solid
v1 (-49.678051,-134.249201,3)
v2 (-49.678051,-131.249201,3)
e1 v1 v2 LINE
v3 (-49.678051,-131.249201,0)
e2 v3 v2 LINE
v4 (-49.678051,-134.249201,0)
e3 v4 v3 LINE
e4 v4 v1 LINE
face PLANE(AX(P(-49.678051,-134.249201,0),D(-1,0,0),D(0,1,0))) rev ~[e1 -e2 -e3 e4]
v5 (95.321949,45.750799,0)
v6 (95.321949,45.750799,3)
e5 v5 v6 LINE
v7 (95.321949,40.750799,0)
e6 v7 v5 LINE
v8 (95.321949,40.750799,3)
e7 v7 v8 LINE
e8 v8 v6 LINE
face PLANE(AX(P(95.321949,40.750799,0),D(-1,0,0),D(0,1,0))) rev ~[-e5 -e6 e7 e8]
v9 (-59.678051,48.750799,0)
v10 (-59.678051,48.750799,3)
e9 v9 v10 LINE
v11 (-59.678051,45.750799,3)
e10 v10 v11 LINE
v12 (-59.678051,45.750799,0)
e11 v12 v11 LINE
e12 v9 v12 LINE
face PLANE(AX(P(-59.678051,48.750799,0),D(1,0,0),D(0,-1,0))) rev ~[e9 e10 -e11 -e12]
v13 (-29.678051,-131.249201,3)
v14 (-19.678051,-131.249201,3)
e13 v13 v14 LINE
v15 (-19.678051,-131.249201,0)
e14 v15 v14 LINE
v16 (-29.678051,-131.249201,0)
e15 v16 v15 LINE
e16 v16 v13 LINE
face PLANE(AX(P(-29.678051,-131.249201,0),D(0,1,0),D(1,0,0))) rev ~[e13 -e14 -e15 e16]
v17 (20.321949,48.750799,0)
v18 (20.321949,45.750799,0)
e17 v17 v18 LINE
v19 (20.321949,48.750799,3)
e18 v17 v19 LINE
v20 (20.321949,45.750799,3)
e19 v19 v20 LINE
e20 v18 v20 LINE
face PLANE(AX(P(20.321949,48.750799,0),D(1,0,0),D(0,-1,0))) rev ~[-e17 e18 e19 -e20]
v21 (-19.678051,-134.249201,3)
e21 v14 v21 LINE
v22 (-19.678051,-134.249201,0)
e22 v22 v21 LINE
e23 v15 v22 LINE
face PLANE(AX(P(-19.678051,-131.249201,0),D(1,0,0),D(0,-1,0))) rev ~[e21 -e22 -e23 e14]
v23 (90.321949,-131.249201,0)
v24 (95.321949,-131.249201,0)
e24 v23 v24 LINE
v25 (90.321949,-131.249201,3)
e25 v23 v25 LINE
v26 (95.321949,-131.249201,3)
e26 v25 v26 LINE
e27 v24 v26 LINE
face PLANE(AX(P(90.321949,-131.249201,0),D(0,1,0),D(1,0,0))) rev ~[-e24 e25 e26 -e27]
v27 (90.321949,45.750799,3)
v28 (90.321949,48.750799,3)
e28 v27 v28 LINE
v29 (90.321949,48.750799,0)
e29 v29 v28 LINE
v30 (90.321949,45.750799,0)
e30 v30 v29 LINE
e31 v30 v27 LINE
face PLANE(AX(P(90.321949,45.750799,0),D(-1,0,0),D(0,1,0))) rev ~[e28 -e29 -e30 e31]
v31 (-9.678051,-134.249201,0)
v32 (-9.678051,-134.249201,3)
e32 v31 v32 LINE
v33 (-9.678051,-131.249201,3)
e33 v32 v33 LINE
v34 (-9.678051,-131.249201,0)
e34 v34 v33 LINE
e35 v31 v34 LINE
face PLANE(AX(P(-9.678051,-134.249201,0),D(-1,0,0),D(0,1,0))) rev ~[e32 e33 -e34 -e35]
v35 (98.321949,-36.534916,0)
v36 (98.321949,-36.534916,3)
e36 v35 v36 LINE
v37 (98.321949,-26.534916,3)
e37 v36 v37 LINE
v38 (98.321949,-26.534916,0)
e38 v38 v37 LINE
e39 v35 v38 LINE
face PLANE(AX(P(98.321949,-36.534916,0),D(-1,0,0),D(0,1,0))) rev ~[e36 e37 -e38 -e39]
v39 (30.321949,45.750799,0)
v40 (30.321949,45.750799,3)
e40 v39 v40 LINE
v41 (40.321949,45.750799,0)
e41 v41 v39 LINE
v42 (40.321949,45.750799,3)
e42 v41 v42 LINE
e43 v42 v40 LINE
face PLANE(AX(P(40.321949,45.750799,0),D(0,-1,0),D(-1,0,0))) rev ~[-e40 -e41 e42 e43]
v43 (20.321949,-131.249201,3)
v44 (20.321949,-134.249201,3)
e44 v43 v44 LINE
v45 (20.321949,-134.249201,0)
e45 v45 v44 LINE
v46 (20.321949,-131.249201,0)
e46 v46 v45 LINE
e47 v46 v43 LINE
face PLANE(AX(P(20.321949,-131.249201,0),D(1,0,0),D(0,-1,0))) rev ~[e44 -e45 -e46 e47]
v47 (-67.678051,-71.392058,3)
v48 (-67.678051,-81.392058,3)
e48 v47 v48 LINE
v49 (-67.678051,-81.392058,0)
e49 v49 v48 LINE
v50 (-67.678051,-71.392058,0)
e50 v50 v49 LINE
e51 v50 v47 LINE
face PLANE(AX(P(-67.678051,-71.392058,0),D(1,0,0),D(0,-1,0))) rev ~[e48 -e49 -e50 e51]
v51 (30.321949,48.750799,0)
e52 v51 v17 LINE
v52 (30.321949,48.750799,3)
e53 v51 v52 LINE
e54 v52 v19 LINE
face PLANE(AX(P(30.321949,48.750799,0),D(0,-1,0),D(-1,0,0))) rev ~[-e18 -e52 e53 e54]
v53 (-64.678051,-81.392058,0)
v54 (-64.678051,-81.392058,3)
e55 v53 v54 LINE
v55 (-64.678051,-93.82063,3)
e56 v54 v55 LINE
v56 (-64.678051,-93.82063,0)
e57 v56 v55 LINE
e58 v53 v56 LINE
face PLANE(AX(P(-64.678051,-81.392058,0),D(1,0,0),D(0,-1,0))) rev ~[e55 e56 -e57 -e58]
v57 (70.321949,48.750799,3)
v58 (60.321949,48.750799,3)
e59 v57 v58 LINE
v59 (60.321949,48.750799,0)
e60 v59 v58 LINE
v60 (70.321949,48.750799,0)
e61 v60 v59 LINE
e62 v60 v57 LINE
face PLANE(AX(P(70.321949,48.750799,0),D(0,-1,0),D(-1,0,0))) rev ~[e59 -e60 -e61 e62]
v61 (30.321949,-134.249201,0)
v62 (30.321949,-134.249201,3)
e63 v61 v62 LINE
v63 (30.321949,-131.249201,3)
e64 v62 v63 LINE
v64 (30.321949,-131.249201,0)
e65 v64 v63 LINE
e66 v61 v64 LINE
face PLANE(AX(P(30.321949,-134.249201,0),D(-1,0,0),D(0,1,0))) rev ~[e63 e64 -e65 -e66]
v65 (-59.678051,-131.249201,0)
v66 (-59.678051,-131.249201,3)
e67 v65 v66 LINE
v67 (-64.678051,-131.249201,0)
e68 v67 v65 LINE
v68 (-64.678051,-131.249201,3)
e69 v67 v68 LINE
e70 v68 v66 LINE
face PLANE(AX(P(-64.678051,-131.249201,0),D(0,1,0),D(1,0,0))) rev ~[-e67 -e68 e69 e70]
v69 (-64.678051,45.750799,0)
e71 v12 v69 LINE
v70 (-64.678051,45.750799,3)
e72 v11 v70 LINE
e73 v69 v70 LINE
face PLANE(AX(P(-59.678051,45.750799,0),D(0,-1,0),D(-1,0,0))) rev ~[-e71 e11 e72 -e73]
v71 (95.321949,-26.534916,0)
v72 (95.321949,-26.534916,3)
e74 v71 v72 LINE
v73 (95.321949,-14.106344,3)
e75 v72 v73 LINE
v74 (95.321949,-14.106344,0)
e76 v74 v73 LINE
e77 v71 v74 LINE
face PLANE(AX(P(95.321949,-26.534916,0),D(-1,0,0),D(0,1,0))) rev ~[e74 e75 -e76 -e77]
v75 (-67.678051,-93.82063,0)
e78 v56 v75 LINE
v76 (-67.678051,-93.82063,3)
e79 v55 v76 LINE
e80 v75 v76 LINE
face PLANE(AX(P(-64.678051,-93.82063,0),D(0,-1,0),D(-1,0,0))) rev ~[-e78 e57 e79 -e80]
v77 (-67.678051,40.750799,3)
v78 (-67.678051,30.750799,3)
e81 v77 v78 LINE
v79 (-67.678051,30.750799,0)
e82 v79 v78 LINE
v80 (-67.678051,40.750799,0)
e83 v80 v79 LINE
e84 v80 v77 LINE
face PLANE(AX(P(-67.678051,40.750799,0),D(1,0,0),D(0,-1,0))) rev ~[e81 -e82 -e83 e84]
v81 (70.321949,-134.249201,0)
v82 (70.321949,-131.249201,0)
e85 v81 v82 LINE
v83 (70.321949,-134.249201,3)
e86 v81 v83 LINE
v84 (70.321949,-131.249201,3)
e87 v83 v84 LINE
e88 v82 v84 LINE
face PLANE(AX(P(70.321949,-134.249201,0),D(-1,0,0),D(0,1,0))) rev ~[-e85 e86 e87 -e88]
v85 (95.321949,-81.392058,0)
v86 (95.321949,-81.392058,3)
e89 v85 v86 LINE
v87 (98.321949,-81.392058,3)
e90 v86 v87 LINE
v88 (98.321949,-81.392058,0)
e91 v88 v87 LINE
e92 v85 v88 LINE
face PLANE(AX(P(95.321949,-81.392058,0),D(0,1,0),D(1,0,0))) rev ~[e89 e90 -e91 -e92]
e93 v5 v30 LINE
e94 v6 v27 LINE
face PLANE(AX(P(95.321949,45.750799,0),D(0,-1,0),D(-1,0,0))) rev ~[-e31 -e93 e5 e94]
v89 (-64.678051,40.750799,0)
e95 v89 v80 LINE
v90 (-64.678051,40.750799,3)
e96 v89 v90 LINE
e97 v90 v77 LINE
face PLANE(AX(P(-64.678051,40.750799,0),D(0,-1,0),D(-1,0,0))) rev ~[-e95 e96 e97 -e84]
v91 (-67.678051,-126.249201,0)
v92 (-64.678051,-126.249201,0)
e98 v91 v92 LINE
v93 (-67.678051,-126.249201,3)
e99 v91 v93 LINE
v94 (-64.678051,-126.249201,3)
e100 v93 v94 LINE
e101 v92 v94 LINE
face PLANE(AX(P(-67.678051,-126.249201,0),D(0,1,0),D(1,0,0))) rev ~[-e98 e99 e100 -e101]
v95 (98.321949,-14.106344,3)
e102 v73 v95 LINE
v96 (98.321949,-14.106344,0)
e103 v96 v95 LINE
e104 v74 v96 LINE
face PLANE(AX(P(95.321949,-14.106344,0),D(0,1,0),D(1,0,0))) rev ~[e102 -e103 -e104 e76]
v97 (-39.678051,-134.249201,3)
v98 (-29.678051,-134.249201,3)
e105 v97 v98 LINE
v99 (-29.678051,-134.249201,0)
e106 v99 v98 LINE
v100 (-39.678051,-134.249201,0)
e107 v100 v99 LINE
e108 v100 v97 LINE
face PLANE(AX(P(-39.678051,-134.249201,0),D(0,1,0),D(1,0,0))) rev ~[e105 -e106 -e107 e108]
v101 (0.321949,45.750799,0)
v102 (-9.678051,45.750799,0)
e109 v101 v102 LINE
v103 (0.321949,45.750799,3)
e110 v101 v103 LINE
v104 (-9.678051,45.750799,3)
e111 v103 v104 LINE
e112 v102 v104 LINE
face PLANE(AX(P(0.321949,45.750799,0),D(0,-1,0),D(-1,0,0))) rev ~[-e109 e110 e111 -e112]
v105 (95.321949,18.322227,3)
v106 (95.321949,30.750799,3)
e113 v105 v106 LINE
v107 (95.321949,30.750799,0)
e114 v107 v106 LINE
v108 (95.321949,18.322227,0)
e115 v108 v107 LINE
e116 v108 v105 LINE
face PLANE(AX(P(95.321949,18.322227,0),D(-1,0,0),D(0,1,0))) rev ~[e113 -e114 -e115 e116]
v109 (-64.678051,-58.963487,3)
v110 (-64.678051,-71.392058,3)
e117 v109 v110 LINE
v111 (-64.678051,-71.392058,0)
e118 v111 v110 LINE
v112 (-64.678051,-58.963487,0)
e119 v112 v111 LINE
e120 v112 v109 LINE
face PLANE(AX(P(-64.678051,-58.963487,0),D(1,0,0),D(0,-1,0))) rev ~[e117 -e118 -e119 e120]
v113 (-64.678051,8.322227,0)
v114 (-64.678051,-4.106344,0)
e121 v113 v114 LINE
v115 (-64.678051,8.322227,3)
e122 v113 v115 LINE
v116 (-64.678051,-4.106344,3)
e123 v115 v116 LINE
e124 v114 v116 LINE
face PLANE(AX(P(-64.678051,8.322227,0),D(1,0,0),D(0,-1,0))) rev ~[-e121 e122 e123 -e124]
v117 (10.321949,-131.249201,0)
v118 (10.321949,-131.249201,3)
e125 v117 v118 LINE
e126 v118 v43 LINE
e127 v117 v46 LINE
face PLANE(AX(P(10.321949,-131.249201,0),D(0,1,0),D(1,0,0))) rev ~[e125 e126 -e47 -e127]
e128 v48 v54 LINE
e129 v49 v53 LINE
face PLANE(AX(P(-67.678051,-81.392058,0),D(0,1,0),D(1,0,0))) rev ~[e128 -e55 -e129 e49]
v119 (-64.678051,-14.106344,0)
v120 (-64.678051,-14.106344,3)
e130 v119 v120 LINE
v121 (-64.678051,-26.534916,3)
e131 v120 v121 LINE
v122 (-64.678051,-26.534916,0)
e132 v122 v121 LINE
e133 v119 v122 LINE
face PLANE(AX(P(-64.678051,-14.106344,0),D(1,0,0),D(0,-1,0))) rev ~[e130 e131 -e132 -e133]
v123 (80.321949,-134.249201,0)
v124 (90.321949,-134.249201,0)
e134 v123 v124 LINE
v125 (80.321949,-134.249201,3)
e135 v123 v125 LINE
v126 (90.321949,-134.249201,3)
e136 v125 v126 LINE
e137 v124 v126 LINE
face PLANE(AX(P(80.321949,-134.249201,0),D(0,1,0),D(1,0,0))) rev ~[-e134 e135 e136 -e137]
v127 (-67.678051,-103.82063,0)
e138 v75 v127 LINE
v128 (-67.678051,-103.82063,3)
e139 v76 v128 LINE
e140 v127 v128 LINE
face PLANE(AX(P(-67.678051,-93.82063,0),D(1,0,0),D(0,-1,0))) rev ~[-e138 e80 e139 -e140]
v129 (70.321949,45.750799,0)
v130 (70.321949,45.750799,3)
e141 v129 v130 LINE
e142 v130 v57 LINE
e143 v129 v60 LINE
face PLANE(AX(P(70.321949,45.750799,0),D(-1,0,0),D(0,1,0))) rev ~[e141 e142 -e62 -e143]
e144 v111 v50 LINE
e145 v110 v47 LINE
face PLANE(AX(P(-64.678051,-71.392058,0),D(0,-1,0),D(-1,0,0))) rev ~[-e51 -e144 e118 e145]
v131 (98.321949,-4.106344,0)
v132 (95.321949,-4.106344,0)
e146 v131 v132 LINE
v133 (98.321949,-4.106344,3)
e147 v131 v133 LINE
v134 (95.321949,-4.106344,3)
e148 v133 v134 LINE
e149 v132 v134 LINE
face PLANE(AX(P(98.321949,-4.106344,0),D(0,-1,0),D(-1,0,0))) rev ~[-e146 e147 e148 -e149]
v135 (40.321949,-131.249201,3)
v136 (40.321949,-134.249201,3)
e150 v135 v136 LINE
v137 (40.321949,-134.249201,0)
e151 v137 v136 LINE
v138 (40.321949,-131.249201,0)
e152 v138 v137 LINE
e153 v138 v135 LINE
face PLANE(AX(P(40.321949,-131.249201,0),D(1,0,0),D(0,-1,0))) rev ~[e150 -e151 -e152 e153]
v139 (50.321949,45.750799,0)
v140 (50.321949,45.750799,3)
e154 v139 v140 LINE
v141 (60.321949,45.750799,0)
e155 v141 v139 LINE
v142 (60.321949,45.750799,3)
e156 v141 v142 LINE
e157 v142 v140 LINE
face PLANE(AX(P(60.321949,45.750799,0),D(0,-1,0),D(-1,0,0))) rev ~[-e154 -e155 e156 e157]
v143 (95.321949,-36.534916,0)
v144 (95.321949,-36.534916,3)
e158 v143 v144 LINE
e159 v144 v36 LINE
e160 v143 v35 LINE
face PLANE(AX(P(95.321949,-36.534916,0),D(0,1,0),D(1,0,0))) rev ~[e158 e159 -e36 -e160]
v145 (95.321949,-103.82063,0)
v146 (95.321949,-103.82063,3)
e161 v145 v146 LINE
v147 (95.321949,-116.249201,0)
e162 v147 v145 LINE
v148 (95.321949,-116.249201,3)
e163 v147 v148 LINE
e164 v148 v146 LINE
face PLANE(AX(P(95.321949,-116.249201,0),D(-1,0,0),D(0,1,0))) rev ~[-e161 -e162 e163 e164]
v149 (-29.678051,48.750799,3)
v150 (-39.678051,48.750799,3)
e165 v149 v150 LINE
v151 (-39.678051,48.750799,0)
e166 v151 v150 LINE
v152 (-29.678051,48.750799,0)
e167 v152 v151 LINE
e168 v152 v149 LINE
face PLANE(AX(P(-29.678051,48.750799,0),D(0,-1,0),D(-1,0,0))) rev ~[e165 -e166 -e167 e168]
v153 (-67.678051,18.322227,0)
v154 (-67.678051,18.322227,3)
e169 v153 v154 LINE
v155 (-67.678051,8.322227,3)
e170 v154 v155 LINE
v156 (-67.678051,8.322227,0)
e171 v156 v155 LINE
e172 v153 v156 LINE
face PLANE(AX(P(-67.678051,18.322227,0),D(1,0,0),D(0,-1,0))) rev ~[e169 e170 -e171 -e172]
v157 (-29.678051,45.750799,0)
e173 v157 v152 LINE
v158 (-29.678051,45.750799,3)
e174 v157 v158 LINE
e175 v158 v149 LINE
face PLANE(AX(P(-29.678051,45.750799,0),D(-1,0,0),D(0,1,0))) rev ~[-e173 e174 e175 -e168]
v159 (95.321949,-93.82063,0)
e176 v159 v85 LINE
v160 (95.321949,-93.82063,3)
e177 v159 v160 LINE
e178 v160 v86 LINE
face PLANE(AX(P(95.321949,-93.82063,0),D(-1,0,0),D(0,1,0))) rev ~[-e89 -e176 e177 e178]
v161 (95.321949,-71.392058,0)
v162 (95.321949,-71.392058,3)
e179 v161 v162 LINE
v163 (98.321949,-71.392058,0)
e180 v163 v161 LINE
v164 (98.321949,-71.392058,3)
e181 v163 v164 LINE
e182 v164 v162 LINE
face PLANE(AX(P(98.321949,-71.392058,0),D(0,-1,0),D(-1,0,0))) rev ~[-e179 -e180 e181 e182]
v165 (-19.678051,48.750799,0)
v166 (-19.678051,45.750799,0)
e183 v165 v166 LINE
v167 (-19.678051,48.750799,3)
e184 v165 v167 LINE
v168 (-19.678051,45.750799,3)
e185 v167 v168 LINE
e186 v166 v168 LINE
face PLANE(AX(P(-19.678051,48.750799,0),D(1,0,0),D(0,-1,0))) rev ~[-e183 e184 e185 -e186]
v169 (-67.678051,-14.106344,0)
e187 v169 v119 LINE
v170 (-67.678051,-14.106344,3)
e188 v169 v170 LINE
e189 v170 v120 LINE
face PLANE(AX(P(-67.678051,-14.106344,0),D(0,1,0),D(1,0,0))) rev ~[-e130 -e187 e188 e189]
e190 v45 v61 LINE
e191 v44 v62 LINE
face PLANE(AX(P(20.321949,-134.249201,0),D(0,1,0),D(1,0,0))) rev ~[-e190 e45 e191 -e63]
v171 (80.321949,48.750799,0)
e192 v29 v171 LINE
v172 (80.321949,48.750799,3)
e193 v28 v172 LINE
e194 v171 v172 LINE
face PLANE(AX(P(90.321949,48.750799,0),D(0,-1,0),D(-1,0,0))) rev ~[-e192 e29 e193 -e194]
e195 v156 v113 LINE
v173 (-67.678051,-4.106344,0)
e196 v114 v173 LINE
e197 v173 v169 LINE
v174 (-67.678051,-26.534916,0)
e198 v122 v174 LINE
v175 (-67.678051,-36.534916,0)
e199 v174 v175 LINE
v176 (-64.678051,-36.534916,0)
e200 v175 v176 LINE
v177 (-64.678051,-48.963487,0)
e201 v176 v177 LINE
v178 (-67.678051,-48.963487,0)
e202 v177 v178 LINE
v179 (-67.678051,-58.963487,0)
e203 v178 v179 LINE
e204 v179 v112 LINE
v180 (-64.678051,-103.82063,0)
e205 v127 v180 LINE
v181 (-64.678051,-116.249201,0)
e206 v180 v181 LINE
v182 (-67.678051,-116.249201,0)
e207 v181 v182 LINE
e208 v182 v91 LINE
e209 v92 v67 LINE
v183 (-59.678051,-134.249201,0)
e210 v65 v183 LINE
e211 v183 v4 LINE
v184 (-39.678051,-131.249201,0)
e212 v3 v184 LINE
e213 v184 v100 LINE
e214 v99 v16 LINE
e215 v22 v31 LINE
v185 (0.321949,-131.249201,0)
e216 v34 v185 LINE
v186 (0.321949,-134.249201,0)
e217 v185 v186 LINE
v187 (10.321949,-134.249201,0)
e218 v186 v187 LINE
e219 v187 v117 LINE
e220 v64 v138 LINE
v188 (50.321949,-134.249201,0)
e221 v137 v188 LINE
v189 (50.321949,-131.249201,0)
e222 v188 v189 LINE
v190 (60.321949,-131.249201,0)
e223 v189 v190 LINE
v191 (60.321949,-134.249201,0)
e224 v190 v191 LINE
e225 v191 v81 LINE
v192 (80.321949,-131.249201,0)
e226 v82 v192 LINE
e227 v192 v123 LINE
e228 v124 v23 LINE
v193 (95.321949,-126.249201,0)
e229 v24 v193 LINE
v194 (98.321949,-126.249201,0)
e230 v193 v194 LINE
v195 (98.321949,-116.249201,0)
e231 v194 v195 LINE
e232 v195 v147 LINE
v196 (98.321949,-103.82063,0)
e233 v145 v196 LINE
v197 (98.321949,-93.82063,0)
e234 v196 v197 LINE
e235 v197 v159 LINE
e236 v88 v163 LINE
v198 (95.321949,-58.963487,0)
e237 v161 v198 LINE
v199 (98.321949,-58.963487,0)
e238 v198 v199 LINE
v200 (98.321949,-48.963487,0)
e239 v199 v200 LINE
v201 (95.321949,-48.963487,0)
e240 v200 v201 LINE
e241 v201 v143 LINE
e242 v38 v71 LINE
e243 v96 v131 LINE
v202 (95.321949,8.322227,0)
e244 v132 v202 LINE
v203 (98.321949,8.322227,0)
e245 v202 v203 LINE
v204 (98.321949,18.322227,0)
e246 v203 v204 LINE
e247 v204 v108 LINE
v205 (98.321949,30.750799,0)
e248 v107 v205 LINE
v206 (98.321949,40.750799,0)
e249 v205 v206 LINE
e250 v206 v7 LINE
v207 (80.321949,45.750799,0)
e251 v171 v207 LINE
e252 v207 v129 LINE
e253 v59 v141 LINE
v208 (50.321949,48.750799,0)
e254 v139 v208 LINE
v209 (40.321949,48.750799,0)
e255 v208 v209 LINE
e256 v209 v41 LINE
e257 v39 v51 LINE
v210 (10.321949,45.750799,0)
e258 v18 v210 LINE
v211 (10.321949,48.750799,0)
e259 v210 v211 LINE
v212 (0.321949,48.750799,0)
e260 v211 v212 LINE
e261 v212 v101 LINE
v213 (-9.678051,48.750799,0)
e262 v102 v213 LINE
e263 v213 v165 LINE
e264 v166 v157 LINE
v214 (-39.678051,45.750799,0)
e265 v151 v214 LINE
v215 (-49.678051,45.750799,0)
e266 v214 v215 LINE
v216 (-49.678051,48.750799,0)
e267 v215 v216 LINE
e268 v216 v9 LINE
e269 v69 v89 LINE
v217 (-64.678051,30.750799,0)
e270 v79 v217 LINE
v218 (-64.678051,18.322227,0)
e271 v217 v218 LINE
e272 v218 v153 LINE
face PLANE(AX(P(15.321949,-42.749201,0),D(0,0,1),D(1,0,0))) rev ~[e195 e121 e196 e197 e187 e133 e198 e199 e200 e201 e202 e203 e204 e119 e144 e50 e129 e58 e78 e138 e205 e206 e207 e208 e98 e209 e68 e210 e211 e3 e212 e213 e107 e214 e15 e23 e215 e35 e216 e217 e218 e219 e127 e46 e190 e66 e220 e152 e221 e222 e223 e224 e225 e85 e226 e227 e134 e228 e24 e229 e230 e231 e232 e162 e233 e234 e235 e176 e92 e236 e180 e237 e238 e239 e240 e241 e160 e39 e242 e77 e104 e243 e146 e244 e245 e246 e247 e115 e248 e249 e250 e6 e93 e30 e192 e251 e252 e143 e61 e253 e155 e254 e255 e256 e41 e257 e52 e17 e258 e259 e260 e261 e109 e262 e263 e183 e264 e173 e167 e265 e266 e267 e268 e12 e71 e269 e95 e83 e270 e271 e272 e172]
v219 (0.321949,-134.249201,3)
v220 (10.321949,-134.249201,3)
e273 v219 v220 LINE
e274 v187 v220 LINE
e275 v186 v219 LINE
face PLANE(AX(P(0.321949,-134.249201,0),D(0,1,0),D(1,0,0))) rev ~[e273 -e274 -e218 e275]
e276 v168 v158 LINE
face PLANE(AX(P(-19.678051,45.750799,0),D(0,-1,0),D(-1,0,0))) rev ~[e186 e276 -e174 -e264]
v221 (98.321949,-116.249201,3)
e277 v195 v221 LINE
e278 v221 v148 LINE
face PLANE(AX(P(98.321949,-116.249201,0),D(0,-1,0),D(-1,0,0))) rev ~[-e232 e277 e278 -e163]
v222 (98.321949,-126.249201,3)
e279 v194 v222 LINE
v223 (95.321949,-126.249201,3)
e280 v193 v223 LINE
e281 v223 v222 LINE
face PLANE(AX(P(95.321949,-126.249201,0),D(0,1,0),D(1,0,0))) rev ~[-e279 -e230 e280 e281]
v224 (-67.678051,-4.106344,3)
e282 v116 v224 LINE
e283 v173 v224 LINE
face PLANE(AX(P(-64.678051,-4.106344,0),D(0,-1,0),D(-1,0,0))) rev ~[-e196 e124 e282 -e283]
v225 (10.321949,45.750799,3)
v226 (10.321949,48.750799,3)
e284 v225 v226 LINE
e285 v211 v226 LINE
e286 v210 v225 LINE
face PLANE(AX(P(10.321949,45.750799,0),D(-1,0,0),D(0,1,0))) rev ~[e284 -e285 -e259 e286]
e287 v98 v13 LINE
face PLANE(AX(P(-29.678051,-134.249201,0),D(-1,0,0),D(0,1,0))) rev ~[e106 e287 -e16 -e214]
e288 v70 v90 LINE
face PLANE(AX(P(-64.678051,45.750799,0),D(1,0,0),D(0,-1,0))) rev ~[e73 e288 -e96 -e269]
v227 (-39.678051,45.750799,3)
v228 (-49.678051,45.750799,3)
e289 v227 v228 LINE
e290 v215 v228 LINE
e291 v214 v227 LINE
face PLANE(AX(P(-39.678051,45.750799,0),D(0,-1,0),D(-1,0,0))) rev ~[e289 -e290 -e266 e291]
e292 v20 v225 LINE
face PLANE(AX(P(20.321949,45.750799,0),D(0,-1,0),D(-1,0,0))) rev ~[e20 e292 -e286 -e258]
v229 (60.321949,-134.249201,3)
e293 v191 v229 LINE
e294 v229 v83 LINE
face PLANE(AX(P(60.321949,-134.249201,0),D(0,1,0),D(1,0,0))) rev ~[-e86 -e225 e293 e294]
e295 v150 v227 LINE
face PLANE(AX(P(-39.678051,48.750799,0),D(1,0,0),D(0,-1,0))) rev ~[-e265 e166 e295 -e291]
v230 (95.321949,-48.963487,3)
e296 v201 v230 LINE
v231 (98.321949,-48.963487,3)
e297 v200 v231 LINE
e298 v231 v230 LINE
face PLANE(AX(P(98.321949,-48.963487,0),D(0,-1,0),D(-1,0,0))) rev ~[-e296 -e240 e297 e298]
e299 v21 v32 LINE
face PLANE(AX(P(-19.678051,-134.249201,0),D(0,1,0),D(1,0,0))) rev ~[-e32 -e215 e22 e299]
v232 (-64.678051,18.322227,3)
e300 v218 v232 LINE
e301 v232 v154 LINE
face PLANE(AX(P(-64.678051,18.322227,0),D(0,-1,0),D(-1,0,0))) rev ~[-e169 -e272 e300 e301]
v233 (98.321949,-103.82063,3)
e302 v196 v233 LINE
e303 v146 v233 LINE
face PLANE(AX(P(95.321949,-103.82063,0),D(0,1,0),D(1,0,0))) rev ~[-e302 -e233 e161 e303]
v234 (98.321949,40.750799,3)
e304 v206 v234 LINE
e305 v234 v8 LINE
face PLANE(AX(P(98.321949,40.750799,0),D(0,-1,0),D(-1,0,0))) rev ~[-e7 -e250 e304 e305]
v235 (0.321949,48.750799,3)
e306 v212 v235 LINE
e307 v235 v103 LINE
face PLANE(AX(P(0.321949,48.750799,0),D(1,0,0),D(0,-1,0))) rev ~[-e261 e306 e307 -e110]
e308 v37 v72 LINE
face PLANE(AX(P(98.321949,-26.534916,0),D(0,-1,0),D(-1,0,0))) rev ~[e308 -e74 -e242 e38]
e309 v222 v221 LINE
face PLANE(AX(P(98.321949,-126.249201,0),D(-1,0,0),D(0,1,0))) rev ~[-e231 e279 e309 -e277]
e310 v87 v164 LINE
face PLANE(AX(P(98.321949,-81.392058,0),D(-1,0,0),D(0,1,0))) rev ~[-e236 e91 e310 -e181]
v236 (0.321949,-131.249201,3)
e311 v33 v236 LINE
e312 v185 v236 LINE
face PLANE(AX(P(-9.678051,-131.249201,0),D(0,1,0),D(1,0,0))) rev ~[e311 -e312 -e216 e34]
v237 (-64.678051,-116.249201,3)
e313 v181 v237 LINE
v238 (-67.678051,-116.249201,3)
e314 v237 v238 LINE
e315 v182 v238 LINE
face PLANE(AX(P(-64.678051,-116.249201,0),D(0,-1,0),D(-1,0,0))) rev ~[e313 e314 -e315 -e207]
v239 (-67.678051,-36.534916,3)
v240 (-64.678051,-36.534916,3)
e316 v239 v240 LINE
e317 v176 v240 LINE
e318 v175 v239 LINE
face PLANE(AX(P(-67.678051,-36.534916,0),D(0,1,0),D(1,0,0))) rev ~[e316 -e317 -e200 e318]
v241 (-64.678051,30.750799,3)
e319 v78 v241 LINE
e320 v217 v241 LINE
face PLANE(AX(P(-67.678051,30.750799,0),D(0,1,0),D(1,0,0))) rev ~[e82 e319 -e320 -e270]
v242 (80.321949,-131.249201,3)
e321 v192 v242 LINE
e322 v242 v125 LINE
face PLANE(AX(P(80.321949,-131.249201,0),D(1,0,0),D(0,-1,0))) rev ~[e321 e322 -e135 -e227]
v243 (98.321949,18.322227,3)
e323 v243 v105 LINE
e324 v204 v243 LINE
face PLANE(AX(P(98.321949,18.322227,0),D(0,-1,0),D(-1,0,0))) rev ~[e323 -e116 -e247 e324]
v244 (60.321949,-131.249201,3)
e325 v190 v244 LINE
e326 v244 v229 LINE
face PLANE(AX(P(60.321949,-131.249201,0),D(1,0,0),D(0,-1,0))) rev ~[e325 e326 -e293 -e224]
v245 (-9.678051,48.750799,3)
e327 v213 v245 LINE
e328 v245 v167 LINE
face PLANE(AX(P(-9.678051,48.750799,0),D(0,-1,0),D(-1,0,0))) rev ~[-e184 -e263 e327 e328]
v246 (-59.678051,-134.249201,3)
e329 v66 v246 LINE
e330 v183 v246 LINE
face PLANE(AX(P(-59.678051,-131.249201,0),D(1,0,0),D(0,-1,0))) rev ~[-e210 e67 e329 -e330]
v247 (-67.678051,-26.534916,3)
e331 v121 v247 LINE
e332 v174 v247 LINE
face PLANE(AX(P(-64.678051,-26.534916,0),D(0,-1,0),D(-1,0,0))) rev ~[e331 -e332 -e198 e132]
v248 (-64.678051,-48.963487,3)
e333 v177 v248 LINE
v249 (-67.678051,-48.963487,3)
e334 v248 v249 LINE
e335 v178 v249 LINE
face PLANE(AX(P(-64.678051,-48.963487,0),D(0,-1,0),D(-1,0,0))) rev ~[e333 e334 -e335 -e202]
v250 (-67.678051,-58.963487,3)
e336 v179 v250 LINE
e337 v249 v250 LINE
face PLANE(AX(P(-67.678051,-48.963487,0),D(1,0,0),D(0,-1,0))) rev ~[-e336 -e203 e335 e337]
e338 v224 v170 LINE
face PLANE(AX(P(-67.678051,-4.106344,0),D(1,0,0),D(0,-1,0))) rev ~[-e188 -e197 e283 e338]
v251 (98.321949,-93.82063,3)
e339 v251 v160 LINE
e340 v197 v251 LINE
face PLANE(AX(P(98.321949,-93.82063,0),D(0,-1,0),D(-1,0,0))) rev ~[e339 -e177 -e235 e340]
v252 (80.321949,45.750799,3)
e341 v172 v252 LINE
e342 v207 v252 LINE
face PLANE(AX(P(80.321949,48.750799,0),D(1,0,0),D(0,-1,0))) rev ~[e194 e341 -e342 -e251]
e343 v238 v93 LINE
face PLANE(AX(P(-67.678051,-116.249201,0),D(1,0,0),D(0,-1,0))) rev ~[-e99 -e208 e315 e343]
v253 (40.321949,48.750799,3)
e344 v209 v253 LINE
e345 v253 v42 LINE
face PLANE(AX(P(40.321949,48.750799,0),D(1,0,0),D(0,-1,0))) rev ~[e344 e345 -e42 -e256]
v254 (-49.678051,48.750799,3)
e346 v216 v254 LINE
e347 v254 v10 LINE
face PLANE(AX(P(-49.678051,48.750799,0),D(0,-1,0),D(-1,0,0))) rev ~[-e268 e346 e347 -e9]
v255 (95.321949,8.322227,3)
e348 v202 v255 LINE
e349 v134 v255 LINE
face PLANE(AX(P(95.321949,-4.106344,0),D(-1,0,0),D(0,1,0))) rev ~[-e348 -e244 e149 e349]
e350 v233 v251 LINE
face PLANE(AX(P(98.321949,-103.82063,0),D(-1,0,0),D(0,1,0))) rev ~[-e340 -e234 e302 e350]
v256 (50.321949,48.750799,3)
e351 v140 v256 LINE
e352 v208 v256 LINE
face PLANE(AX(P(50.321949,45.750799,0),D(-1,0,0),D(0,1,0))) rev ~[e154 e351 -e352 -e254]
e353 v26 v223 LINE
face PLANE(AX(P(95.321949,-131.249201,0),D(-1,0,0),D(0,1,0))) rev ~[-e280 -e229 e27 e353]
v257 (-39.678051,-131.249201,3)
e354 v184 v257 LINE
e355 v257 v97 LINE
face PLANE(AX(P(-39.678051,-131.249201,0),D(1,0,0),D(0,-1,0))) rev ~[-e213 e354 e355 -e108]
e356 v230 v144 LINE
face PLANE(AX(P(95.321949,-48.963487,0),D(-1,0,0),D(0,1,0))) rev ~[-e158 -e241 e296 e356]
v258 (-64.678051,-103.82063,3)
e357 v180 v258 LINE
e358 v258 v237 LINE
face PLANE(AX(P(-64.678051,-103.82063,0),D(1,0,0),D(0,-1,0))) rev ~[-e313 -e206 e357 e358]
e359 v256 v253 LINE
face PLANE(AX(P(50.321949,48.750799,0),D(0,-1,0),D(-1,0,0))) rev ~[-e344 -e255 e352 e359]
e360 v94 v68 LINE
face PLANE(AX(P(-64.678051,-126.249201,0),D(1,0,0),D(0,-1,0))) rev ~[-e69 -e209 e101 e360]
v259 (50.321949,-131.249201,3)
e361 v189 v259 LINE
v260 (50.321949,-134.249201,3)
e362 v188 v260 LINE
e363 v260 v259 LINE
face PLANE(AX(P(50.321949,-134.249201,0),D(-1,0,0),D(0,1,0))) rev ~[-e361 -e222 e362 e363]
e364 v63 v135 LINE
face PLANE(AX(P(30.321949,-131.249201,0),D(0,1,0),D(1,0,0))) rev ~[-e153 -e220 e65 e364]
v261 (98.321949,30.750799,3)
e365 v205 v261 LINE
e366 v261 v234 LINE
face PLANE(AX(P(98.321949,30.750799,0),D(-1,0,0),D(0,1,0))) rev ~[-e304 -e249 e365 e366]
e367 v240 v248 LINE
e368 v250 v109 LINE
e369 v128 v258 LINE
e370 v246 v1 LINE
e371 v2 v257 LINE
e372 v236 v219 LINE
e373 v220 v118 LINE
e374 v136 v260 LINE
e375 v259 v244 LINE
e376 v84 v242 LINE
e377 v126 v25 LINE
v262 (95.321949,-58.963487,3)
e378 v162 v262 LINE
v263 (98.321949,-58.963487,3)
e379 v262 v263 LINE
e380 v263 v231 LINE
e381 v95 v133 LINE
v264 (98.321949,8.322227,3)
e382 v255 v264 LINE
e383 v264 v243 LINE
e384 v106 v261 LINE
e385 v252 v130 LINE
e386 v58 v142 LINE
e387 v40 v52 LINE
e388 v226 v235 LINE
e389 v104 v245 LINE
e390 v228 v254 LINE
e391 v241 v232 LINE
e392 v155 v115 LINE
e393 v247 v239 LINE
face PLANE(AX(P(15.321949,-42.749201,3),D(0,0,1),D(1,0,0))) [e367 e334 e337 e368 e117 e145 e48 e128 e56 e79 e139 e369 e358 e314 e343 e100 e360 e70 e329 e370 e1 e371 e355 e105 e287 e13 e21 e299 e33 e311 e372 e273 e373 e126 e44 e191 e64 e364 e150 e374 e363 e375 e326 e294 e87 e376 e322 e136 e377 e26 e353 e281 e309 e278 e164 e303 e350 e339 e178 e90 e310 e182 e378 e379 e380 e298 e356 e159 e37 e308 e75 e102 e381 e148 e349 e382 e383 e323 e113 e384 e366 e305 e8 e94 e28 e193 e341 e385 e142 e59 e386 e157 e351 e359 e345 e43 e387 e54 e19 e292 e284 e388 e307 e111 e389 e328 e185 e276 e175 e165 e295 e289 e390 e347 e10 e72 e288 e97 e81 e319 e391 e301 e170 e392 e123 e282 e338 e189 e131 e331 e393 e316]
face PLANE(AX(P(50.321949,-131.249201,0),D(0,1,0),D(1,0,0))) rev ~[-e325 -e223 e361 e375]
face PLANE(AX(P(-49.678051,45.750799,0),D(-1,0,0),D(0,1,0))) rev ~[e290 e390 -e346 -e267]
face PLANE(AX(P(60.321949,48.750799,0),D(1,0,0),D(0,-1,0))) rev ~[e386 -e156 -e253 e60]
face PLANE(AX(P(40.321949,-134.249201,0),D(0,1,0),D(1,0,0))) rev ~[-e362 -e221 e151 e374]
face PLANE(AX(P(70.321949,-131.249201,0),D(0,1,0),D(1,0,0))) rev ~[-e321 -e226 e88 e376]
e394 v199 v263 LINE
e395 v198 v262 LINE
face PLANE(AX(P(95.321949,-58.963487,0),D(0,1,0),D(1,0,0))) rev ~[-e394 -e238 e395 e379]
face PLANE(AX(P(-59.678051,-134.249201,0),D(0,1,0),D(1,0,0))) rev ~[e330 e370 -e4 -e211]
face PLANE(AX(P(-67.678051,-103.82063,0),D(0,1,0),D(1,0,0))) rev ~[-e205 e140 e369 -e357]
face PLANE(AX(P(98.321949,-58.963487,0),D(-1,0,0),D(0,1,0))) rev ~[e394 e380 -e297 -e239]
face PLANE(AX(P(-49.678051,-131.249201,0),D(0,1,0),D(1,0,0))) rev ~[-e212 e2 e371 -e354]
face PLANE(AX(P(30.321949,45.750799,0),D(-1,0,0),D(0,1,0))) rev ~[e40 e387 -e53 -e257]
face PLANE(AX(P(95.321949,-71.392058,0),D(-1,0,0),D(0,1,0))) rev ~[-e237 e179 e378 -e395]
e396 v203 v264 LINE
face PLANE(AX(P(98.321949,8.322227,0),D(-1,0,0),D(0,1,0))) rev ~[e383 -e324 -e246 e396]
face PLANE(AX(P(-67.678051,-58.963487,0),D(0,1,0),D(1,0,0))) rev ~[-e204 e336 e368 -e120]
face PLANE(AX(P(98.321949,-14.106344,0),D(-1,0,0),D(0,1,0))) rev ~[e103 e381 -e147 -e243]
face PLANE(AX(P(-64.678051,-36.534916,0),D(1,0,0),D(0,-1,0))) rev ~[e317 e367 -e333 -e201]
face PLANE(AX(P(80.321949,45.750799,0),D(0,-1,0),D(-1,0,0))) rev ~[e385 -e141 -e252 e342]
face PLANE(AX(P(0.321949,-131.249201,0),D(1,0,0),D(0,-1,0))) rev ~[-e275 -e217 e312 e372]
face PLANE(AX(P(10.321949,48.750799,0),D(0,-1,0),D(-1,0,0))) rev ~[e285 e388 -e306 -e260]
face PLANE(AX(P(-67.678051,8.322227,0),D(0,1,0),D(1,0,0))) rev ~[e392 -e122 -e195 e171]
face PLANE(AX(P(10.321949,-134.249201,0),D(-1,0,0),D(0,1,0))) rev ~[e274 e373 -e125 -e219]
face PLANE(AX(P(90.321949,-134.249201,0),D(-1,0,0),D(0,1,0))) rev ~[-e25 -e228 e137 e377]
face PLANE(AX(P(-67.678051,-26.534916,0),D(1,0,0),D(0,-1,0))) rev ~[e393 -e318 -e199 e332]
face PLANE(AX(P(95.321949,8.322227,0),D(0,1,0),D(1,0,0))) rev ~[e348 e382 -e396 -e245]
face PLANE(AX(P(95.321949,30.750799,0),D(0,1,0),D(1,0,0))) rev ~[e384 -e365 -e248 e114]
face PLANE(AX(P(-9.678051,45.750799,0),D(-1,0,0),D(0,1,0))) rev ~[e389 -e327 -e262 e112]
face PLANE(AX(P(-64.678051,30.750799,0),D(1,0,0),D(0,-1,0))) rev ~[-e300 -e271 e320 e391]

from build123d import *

# Parameters (mm, degrees)
BOSS_EXTRUDE1_DEPTH = 3


with BuildPart() as part:
    # Sketch1 → Boss-Extrude1 (new body)
    with BuildSketch(Plane.XY):
        Polygon((-39.67805095, 48.750798722), (-39.67805095, 45.750798722), (-49.67805095, 45.750798722), (-49.67805095, 48.750798722), (-59.67805095, 48.750798722), (-59.67805095, 45.750798722), (-64.67805095, 45.750798722), (-64.67805095, 40.750798722), (-67.67805095, 40.750798722), (-67.67805095, 30.750798722), (-64.67805095, 30.750798722), (-64.67805095, 18.322227293), (-67.67805095, 18.322227293), (-67.67805095, 8.322227293), (-64.67805095, 8.322227293), (-64.67805095, -4.106344135), (-67.67805095, -4.106344135), (-67.67805095, -14.106344135), (-64.67805095, -14.106344135), (-64.67805095, -26.534915564), (-67.67805095, -26.534915564), (-67.67805095, -36.534915564), (-64.67805095, -36.534915564), (-64.67805095, -48.963486992), (-67.67805095, -48.963486992), (-67.67805095, -58.963486992), (-64.67805095, -58.963486992), (-64.67805095, -71.392058421), (-67.67805095, -71.392058421), (-67.67805095, -81.392058421), (-64.67805095, -81.392058421), (-64.67805095, -93.820629849), (-67.67805095, -93.820629849), (-67.67805095, -103.820629849), (-64.67805095, -103.820629849), (-64.67805095, -116.249201278), (-67.67805095, -116.249201278), (-67.67805095, -126.249201278), (-64.67805095, -126.249201278), (-64.67805095, -131.249201278), (-59.67805095, -131.249201278), (-59.67805095, -134.249201278), (-49.67805095, -134.249201278), (-49.67805095, -131.249201278), (-39.67805095, -131.249201278), (-39.67805095, -134.249201278), (-29.67805095, -134.249201278), (-29.67805095, -131.249201278), (-19.67805095, -131.249201278), (-19.67805095, -134.249201278), (-9.67805095, -134.249201278), (-9.67805095, -131.249201278), (0.32194905, -131.249201278), (0.32194905, -134.249201278), (10.32194905, -134.249201278), (10.32194905, -131.249201278), (20.32194905, -131.249201278), (20.32194905, -134.249201278), (30.32194905, -134.249201278), (30.32194905, -131.249201278), (40.32194905, -131.249201278), (40.32194905, -134.249201278), (50.32194905, -134.249201278), (50.32194905, -131.249201278), (60.32194905, -131.249201278), (60.32194905, -134.249201278), (70.32194905, -134.249201278), (70.32194905, -131.249201278), (80.32194905, -131.249201278), (80.32194905, -134.249201278), (90.32194905, -134.249201278), (90.32194905, -131.249201278), (95.32194905, -131.249201278), (95.32194905, -126.249201278), (98.32194905, -126.249201278), (98.32194905, -116.249201278), (95.32194905, -116.249201278), (95.32194905, -103.820629849), (98.32194905, -103.820629849), (98.32194905, -93.820629849), (95.32194905, -93.820629849), (95.32194905, -81.392058421), (98.32194905, -81.392058421), (98.32194905, -71.392058421), (95.32194905, -71.392058421), (95.32194905, -58.963486992), (98.32194905, -58.963486992), (98.32194905, -48.963486992), (95.32194905, -48.963486992), (95.32194905, -36.534915564), (98.32194905, -36.534915564), (98.32194905, -26.534915564), (95.32194905, -26.534915564), (95.32194905, -14.106344135), (98.32194905, -14.106344135), (98.32194905, -4.106344135), (95.32194905, -4.106344135), (95.32194905, 8.322227293), (98.32194905, 8.322227293), (98.32194905, 18.322227293), (95.32194905, 18.322227293), (95.32194905, 30.750798722), (98.32194905, 30.750798722), (98.32194905, 40.750798722), (95.32194905, 40.750798722), (95.32194905, 45.750798722), (90.32194905, 45.750798722), (90.32194905, 48.750798722), (80.32194905, 48.750798722), (80.32194905, 45.750798722), (70.32194905, 45.750798722), (70.32194905, 48.750798722), (60.32194905, 48.750798722), (60.32194905, 45.750798722), (50.32194905, 45.750798722), (50.32194905, 48.750798722), (40.32194905, 48.750798722), (40.32194905, 45.750798722), (30.32194905, 45.750798722), (30.32194905, 48.750798722), (20.32194905, 48.750798722), (20.32194905, 45.750798722), (10.32194905, 45.750798722), (10.32194905, 48.750798722), (0.32194905, 48.750798722), (0.32194905, 45.750798722), (-9.67805095, 45.750798722), (-9.67805095, 48.750798722), (-19.67805095, 48.750798722), (-19.67805095, 45.750798722), (-29.67805095, 45.750798722), (-29.67805095, 48.750798722), align=None)
    extrude(amount=BOSS_EXTRUDE1_DEPTH)


solid = part.part
